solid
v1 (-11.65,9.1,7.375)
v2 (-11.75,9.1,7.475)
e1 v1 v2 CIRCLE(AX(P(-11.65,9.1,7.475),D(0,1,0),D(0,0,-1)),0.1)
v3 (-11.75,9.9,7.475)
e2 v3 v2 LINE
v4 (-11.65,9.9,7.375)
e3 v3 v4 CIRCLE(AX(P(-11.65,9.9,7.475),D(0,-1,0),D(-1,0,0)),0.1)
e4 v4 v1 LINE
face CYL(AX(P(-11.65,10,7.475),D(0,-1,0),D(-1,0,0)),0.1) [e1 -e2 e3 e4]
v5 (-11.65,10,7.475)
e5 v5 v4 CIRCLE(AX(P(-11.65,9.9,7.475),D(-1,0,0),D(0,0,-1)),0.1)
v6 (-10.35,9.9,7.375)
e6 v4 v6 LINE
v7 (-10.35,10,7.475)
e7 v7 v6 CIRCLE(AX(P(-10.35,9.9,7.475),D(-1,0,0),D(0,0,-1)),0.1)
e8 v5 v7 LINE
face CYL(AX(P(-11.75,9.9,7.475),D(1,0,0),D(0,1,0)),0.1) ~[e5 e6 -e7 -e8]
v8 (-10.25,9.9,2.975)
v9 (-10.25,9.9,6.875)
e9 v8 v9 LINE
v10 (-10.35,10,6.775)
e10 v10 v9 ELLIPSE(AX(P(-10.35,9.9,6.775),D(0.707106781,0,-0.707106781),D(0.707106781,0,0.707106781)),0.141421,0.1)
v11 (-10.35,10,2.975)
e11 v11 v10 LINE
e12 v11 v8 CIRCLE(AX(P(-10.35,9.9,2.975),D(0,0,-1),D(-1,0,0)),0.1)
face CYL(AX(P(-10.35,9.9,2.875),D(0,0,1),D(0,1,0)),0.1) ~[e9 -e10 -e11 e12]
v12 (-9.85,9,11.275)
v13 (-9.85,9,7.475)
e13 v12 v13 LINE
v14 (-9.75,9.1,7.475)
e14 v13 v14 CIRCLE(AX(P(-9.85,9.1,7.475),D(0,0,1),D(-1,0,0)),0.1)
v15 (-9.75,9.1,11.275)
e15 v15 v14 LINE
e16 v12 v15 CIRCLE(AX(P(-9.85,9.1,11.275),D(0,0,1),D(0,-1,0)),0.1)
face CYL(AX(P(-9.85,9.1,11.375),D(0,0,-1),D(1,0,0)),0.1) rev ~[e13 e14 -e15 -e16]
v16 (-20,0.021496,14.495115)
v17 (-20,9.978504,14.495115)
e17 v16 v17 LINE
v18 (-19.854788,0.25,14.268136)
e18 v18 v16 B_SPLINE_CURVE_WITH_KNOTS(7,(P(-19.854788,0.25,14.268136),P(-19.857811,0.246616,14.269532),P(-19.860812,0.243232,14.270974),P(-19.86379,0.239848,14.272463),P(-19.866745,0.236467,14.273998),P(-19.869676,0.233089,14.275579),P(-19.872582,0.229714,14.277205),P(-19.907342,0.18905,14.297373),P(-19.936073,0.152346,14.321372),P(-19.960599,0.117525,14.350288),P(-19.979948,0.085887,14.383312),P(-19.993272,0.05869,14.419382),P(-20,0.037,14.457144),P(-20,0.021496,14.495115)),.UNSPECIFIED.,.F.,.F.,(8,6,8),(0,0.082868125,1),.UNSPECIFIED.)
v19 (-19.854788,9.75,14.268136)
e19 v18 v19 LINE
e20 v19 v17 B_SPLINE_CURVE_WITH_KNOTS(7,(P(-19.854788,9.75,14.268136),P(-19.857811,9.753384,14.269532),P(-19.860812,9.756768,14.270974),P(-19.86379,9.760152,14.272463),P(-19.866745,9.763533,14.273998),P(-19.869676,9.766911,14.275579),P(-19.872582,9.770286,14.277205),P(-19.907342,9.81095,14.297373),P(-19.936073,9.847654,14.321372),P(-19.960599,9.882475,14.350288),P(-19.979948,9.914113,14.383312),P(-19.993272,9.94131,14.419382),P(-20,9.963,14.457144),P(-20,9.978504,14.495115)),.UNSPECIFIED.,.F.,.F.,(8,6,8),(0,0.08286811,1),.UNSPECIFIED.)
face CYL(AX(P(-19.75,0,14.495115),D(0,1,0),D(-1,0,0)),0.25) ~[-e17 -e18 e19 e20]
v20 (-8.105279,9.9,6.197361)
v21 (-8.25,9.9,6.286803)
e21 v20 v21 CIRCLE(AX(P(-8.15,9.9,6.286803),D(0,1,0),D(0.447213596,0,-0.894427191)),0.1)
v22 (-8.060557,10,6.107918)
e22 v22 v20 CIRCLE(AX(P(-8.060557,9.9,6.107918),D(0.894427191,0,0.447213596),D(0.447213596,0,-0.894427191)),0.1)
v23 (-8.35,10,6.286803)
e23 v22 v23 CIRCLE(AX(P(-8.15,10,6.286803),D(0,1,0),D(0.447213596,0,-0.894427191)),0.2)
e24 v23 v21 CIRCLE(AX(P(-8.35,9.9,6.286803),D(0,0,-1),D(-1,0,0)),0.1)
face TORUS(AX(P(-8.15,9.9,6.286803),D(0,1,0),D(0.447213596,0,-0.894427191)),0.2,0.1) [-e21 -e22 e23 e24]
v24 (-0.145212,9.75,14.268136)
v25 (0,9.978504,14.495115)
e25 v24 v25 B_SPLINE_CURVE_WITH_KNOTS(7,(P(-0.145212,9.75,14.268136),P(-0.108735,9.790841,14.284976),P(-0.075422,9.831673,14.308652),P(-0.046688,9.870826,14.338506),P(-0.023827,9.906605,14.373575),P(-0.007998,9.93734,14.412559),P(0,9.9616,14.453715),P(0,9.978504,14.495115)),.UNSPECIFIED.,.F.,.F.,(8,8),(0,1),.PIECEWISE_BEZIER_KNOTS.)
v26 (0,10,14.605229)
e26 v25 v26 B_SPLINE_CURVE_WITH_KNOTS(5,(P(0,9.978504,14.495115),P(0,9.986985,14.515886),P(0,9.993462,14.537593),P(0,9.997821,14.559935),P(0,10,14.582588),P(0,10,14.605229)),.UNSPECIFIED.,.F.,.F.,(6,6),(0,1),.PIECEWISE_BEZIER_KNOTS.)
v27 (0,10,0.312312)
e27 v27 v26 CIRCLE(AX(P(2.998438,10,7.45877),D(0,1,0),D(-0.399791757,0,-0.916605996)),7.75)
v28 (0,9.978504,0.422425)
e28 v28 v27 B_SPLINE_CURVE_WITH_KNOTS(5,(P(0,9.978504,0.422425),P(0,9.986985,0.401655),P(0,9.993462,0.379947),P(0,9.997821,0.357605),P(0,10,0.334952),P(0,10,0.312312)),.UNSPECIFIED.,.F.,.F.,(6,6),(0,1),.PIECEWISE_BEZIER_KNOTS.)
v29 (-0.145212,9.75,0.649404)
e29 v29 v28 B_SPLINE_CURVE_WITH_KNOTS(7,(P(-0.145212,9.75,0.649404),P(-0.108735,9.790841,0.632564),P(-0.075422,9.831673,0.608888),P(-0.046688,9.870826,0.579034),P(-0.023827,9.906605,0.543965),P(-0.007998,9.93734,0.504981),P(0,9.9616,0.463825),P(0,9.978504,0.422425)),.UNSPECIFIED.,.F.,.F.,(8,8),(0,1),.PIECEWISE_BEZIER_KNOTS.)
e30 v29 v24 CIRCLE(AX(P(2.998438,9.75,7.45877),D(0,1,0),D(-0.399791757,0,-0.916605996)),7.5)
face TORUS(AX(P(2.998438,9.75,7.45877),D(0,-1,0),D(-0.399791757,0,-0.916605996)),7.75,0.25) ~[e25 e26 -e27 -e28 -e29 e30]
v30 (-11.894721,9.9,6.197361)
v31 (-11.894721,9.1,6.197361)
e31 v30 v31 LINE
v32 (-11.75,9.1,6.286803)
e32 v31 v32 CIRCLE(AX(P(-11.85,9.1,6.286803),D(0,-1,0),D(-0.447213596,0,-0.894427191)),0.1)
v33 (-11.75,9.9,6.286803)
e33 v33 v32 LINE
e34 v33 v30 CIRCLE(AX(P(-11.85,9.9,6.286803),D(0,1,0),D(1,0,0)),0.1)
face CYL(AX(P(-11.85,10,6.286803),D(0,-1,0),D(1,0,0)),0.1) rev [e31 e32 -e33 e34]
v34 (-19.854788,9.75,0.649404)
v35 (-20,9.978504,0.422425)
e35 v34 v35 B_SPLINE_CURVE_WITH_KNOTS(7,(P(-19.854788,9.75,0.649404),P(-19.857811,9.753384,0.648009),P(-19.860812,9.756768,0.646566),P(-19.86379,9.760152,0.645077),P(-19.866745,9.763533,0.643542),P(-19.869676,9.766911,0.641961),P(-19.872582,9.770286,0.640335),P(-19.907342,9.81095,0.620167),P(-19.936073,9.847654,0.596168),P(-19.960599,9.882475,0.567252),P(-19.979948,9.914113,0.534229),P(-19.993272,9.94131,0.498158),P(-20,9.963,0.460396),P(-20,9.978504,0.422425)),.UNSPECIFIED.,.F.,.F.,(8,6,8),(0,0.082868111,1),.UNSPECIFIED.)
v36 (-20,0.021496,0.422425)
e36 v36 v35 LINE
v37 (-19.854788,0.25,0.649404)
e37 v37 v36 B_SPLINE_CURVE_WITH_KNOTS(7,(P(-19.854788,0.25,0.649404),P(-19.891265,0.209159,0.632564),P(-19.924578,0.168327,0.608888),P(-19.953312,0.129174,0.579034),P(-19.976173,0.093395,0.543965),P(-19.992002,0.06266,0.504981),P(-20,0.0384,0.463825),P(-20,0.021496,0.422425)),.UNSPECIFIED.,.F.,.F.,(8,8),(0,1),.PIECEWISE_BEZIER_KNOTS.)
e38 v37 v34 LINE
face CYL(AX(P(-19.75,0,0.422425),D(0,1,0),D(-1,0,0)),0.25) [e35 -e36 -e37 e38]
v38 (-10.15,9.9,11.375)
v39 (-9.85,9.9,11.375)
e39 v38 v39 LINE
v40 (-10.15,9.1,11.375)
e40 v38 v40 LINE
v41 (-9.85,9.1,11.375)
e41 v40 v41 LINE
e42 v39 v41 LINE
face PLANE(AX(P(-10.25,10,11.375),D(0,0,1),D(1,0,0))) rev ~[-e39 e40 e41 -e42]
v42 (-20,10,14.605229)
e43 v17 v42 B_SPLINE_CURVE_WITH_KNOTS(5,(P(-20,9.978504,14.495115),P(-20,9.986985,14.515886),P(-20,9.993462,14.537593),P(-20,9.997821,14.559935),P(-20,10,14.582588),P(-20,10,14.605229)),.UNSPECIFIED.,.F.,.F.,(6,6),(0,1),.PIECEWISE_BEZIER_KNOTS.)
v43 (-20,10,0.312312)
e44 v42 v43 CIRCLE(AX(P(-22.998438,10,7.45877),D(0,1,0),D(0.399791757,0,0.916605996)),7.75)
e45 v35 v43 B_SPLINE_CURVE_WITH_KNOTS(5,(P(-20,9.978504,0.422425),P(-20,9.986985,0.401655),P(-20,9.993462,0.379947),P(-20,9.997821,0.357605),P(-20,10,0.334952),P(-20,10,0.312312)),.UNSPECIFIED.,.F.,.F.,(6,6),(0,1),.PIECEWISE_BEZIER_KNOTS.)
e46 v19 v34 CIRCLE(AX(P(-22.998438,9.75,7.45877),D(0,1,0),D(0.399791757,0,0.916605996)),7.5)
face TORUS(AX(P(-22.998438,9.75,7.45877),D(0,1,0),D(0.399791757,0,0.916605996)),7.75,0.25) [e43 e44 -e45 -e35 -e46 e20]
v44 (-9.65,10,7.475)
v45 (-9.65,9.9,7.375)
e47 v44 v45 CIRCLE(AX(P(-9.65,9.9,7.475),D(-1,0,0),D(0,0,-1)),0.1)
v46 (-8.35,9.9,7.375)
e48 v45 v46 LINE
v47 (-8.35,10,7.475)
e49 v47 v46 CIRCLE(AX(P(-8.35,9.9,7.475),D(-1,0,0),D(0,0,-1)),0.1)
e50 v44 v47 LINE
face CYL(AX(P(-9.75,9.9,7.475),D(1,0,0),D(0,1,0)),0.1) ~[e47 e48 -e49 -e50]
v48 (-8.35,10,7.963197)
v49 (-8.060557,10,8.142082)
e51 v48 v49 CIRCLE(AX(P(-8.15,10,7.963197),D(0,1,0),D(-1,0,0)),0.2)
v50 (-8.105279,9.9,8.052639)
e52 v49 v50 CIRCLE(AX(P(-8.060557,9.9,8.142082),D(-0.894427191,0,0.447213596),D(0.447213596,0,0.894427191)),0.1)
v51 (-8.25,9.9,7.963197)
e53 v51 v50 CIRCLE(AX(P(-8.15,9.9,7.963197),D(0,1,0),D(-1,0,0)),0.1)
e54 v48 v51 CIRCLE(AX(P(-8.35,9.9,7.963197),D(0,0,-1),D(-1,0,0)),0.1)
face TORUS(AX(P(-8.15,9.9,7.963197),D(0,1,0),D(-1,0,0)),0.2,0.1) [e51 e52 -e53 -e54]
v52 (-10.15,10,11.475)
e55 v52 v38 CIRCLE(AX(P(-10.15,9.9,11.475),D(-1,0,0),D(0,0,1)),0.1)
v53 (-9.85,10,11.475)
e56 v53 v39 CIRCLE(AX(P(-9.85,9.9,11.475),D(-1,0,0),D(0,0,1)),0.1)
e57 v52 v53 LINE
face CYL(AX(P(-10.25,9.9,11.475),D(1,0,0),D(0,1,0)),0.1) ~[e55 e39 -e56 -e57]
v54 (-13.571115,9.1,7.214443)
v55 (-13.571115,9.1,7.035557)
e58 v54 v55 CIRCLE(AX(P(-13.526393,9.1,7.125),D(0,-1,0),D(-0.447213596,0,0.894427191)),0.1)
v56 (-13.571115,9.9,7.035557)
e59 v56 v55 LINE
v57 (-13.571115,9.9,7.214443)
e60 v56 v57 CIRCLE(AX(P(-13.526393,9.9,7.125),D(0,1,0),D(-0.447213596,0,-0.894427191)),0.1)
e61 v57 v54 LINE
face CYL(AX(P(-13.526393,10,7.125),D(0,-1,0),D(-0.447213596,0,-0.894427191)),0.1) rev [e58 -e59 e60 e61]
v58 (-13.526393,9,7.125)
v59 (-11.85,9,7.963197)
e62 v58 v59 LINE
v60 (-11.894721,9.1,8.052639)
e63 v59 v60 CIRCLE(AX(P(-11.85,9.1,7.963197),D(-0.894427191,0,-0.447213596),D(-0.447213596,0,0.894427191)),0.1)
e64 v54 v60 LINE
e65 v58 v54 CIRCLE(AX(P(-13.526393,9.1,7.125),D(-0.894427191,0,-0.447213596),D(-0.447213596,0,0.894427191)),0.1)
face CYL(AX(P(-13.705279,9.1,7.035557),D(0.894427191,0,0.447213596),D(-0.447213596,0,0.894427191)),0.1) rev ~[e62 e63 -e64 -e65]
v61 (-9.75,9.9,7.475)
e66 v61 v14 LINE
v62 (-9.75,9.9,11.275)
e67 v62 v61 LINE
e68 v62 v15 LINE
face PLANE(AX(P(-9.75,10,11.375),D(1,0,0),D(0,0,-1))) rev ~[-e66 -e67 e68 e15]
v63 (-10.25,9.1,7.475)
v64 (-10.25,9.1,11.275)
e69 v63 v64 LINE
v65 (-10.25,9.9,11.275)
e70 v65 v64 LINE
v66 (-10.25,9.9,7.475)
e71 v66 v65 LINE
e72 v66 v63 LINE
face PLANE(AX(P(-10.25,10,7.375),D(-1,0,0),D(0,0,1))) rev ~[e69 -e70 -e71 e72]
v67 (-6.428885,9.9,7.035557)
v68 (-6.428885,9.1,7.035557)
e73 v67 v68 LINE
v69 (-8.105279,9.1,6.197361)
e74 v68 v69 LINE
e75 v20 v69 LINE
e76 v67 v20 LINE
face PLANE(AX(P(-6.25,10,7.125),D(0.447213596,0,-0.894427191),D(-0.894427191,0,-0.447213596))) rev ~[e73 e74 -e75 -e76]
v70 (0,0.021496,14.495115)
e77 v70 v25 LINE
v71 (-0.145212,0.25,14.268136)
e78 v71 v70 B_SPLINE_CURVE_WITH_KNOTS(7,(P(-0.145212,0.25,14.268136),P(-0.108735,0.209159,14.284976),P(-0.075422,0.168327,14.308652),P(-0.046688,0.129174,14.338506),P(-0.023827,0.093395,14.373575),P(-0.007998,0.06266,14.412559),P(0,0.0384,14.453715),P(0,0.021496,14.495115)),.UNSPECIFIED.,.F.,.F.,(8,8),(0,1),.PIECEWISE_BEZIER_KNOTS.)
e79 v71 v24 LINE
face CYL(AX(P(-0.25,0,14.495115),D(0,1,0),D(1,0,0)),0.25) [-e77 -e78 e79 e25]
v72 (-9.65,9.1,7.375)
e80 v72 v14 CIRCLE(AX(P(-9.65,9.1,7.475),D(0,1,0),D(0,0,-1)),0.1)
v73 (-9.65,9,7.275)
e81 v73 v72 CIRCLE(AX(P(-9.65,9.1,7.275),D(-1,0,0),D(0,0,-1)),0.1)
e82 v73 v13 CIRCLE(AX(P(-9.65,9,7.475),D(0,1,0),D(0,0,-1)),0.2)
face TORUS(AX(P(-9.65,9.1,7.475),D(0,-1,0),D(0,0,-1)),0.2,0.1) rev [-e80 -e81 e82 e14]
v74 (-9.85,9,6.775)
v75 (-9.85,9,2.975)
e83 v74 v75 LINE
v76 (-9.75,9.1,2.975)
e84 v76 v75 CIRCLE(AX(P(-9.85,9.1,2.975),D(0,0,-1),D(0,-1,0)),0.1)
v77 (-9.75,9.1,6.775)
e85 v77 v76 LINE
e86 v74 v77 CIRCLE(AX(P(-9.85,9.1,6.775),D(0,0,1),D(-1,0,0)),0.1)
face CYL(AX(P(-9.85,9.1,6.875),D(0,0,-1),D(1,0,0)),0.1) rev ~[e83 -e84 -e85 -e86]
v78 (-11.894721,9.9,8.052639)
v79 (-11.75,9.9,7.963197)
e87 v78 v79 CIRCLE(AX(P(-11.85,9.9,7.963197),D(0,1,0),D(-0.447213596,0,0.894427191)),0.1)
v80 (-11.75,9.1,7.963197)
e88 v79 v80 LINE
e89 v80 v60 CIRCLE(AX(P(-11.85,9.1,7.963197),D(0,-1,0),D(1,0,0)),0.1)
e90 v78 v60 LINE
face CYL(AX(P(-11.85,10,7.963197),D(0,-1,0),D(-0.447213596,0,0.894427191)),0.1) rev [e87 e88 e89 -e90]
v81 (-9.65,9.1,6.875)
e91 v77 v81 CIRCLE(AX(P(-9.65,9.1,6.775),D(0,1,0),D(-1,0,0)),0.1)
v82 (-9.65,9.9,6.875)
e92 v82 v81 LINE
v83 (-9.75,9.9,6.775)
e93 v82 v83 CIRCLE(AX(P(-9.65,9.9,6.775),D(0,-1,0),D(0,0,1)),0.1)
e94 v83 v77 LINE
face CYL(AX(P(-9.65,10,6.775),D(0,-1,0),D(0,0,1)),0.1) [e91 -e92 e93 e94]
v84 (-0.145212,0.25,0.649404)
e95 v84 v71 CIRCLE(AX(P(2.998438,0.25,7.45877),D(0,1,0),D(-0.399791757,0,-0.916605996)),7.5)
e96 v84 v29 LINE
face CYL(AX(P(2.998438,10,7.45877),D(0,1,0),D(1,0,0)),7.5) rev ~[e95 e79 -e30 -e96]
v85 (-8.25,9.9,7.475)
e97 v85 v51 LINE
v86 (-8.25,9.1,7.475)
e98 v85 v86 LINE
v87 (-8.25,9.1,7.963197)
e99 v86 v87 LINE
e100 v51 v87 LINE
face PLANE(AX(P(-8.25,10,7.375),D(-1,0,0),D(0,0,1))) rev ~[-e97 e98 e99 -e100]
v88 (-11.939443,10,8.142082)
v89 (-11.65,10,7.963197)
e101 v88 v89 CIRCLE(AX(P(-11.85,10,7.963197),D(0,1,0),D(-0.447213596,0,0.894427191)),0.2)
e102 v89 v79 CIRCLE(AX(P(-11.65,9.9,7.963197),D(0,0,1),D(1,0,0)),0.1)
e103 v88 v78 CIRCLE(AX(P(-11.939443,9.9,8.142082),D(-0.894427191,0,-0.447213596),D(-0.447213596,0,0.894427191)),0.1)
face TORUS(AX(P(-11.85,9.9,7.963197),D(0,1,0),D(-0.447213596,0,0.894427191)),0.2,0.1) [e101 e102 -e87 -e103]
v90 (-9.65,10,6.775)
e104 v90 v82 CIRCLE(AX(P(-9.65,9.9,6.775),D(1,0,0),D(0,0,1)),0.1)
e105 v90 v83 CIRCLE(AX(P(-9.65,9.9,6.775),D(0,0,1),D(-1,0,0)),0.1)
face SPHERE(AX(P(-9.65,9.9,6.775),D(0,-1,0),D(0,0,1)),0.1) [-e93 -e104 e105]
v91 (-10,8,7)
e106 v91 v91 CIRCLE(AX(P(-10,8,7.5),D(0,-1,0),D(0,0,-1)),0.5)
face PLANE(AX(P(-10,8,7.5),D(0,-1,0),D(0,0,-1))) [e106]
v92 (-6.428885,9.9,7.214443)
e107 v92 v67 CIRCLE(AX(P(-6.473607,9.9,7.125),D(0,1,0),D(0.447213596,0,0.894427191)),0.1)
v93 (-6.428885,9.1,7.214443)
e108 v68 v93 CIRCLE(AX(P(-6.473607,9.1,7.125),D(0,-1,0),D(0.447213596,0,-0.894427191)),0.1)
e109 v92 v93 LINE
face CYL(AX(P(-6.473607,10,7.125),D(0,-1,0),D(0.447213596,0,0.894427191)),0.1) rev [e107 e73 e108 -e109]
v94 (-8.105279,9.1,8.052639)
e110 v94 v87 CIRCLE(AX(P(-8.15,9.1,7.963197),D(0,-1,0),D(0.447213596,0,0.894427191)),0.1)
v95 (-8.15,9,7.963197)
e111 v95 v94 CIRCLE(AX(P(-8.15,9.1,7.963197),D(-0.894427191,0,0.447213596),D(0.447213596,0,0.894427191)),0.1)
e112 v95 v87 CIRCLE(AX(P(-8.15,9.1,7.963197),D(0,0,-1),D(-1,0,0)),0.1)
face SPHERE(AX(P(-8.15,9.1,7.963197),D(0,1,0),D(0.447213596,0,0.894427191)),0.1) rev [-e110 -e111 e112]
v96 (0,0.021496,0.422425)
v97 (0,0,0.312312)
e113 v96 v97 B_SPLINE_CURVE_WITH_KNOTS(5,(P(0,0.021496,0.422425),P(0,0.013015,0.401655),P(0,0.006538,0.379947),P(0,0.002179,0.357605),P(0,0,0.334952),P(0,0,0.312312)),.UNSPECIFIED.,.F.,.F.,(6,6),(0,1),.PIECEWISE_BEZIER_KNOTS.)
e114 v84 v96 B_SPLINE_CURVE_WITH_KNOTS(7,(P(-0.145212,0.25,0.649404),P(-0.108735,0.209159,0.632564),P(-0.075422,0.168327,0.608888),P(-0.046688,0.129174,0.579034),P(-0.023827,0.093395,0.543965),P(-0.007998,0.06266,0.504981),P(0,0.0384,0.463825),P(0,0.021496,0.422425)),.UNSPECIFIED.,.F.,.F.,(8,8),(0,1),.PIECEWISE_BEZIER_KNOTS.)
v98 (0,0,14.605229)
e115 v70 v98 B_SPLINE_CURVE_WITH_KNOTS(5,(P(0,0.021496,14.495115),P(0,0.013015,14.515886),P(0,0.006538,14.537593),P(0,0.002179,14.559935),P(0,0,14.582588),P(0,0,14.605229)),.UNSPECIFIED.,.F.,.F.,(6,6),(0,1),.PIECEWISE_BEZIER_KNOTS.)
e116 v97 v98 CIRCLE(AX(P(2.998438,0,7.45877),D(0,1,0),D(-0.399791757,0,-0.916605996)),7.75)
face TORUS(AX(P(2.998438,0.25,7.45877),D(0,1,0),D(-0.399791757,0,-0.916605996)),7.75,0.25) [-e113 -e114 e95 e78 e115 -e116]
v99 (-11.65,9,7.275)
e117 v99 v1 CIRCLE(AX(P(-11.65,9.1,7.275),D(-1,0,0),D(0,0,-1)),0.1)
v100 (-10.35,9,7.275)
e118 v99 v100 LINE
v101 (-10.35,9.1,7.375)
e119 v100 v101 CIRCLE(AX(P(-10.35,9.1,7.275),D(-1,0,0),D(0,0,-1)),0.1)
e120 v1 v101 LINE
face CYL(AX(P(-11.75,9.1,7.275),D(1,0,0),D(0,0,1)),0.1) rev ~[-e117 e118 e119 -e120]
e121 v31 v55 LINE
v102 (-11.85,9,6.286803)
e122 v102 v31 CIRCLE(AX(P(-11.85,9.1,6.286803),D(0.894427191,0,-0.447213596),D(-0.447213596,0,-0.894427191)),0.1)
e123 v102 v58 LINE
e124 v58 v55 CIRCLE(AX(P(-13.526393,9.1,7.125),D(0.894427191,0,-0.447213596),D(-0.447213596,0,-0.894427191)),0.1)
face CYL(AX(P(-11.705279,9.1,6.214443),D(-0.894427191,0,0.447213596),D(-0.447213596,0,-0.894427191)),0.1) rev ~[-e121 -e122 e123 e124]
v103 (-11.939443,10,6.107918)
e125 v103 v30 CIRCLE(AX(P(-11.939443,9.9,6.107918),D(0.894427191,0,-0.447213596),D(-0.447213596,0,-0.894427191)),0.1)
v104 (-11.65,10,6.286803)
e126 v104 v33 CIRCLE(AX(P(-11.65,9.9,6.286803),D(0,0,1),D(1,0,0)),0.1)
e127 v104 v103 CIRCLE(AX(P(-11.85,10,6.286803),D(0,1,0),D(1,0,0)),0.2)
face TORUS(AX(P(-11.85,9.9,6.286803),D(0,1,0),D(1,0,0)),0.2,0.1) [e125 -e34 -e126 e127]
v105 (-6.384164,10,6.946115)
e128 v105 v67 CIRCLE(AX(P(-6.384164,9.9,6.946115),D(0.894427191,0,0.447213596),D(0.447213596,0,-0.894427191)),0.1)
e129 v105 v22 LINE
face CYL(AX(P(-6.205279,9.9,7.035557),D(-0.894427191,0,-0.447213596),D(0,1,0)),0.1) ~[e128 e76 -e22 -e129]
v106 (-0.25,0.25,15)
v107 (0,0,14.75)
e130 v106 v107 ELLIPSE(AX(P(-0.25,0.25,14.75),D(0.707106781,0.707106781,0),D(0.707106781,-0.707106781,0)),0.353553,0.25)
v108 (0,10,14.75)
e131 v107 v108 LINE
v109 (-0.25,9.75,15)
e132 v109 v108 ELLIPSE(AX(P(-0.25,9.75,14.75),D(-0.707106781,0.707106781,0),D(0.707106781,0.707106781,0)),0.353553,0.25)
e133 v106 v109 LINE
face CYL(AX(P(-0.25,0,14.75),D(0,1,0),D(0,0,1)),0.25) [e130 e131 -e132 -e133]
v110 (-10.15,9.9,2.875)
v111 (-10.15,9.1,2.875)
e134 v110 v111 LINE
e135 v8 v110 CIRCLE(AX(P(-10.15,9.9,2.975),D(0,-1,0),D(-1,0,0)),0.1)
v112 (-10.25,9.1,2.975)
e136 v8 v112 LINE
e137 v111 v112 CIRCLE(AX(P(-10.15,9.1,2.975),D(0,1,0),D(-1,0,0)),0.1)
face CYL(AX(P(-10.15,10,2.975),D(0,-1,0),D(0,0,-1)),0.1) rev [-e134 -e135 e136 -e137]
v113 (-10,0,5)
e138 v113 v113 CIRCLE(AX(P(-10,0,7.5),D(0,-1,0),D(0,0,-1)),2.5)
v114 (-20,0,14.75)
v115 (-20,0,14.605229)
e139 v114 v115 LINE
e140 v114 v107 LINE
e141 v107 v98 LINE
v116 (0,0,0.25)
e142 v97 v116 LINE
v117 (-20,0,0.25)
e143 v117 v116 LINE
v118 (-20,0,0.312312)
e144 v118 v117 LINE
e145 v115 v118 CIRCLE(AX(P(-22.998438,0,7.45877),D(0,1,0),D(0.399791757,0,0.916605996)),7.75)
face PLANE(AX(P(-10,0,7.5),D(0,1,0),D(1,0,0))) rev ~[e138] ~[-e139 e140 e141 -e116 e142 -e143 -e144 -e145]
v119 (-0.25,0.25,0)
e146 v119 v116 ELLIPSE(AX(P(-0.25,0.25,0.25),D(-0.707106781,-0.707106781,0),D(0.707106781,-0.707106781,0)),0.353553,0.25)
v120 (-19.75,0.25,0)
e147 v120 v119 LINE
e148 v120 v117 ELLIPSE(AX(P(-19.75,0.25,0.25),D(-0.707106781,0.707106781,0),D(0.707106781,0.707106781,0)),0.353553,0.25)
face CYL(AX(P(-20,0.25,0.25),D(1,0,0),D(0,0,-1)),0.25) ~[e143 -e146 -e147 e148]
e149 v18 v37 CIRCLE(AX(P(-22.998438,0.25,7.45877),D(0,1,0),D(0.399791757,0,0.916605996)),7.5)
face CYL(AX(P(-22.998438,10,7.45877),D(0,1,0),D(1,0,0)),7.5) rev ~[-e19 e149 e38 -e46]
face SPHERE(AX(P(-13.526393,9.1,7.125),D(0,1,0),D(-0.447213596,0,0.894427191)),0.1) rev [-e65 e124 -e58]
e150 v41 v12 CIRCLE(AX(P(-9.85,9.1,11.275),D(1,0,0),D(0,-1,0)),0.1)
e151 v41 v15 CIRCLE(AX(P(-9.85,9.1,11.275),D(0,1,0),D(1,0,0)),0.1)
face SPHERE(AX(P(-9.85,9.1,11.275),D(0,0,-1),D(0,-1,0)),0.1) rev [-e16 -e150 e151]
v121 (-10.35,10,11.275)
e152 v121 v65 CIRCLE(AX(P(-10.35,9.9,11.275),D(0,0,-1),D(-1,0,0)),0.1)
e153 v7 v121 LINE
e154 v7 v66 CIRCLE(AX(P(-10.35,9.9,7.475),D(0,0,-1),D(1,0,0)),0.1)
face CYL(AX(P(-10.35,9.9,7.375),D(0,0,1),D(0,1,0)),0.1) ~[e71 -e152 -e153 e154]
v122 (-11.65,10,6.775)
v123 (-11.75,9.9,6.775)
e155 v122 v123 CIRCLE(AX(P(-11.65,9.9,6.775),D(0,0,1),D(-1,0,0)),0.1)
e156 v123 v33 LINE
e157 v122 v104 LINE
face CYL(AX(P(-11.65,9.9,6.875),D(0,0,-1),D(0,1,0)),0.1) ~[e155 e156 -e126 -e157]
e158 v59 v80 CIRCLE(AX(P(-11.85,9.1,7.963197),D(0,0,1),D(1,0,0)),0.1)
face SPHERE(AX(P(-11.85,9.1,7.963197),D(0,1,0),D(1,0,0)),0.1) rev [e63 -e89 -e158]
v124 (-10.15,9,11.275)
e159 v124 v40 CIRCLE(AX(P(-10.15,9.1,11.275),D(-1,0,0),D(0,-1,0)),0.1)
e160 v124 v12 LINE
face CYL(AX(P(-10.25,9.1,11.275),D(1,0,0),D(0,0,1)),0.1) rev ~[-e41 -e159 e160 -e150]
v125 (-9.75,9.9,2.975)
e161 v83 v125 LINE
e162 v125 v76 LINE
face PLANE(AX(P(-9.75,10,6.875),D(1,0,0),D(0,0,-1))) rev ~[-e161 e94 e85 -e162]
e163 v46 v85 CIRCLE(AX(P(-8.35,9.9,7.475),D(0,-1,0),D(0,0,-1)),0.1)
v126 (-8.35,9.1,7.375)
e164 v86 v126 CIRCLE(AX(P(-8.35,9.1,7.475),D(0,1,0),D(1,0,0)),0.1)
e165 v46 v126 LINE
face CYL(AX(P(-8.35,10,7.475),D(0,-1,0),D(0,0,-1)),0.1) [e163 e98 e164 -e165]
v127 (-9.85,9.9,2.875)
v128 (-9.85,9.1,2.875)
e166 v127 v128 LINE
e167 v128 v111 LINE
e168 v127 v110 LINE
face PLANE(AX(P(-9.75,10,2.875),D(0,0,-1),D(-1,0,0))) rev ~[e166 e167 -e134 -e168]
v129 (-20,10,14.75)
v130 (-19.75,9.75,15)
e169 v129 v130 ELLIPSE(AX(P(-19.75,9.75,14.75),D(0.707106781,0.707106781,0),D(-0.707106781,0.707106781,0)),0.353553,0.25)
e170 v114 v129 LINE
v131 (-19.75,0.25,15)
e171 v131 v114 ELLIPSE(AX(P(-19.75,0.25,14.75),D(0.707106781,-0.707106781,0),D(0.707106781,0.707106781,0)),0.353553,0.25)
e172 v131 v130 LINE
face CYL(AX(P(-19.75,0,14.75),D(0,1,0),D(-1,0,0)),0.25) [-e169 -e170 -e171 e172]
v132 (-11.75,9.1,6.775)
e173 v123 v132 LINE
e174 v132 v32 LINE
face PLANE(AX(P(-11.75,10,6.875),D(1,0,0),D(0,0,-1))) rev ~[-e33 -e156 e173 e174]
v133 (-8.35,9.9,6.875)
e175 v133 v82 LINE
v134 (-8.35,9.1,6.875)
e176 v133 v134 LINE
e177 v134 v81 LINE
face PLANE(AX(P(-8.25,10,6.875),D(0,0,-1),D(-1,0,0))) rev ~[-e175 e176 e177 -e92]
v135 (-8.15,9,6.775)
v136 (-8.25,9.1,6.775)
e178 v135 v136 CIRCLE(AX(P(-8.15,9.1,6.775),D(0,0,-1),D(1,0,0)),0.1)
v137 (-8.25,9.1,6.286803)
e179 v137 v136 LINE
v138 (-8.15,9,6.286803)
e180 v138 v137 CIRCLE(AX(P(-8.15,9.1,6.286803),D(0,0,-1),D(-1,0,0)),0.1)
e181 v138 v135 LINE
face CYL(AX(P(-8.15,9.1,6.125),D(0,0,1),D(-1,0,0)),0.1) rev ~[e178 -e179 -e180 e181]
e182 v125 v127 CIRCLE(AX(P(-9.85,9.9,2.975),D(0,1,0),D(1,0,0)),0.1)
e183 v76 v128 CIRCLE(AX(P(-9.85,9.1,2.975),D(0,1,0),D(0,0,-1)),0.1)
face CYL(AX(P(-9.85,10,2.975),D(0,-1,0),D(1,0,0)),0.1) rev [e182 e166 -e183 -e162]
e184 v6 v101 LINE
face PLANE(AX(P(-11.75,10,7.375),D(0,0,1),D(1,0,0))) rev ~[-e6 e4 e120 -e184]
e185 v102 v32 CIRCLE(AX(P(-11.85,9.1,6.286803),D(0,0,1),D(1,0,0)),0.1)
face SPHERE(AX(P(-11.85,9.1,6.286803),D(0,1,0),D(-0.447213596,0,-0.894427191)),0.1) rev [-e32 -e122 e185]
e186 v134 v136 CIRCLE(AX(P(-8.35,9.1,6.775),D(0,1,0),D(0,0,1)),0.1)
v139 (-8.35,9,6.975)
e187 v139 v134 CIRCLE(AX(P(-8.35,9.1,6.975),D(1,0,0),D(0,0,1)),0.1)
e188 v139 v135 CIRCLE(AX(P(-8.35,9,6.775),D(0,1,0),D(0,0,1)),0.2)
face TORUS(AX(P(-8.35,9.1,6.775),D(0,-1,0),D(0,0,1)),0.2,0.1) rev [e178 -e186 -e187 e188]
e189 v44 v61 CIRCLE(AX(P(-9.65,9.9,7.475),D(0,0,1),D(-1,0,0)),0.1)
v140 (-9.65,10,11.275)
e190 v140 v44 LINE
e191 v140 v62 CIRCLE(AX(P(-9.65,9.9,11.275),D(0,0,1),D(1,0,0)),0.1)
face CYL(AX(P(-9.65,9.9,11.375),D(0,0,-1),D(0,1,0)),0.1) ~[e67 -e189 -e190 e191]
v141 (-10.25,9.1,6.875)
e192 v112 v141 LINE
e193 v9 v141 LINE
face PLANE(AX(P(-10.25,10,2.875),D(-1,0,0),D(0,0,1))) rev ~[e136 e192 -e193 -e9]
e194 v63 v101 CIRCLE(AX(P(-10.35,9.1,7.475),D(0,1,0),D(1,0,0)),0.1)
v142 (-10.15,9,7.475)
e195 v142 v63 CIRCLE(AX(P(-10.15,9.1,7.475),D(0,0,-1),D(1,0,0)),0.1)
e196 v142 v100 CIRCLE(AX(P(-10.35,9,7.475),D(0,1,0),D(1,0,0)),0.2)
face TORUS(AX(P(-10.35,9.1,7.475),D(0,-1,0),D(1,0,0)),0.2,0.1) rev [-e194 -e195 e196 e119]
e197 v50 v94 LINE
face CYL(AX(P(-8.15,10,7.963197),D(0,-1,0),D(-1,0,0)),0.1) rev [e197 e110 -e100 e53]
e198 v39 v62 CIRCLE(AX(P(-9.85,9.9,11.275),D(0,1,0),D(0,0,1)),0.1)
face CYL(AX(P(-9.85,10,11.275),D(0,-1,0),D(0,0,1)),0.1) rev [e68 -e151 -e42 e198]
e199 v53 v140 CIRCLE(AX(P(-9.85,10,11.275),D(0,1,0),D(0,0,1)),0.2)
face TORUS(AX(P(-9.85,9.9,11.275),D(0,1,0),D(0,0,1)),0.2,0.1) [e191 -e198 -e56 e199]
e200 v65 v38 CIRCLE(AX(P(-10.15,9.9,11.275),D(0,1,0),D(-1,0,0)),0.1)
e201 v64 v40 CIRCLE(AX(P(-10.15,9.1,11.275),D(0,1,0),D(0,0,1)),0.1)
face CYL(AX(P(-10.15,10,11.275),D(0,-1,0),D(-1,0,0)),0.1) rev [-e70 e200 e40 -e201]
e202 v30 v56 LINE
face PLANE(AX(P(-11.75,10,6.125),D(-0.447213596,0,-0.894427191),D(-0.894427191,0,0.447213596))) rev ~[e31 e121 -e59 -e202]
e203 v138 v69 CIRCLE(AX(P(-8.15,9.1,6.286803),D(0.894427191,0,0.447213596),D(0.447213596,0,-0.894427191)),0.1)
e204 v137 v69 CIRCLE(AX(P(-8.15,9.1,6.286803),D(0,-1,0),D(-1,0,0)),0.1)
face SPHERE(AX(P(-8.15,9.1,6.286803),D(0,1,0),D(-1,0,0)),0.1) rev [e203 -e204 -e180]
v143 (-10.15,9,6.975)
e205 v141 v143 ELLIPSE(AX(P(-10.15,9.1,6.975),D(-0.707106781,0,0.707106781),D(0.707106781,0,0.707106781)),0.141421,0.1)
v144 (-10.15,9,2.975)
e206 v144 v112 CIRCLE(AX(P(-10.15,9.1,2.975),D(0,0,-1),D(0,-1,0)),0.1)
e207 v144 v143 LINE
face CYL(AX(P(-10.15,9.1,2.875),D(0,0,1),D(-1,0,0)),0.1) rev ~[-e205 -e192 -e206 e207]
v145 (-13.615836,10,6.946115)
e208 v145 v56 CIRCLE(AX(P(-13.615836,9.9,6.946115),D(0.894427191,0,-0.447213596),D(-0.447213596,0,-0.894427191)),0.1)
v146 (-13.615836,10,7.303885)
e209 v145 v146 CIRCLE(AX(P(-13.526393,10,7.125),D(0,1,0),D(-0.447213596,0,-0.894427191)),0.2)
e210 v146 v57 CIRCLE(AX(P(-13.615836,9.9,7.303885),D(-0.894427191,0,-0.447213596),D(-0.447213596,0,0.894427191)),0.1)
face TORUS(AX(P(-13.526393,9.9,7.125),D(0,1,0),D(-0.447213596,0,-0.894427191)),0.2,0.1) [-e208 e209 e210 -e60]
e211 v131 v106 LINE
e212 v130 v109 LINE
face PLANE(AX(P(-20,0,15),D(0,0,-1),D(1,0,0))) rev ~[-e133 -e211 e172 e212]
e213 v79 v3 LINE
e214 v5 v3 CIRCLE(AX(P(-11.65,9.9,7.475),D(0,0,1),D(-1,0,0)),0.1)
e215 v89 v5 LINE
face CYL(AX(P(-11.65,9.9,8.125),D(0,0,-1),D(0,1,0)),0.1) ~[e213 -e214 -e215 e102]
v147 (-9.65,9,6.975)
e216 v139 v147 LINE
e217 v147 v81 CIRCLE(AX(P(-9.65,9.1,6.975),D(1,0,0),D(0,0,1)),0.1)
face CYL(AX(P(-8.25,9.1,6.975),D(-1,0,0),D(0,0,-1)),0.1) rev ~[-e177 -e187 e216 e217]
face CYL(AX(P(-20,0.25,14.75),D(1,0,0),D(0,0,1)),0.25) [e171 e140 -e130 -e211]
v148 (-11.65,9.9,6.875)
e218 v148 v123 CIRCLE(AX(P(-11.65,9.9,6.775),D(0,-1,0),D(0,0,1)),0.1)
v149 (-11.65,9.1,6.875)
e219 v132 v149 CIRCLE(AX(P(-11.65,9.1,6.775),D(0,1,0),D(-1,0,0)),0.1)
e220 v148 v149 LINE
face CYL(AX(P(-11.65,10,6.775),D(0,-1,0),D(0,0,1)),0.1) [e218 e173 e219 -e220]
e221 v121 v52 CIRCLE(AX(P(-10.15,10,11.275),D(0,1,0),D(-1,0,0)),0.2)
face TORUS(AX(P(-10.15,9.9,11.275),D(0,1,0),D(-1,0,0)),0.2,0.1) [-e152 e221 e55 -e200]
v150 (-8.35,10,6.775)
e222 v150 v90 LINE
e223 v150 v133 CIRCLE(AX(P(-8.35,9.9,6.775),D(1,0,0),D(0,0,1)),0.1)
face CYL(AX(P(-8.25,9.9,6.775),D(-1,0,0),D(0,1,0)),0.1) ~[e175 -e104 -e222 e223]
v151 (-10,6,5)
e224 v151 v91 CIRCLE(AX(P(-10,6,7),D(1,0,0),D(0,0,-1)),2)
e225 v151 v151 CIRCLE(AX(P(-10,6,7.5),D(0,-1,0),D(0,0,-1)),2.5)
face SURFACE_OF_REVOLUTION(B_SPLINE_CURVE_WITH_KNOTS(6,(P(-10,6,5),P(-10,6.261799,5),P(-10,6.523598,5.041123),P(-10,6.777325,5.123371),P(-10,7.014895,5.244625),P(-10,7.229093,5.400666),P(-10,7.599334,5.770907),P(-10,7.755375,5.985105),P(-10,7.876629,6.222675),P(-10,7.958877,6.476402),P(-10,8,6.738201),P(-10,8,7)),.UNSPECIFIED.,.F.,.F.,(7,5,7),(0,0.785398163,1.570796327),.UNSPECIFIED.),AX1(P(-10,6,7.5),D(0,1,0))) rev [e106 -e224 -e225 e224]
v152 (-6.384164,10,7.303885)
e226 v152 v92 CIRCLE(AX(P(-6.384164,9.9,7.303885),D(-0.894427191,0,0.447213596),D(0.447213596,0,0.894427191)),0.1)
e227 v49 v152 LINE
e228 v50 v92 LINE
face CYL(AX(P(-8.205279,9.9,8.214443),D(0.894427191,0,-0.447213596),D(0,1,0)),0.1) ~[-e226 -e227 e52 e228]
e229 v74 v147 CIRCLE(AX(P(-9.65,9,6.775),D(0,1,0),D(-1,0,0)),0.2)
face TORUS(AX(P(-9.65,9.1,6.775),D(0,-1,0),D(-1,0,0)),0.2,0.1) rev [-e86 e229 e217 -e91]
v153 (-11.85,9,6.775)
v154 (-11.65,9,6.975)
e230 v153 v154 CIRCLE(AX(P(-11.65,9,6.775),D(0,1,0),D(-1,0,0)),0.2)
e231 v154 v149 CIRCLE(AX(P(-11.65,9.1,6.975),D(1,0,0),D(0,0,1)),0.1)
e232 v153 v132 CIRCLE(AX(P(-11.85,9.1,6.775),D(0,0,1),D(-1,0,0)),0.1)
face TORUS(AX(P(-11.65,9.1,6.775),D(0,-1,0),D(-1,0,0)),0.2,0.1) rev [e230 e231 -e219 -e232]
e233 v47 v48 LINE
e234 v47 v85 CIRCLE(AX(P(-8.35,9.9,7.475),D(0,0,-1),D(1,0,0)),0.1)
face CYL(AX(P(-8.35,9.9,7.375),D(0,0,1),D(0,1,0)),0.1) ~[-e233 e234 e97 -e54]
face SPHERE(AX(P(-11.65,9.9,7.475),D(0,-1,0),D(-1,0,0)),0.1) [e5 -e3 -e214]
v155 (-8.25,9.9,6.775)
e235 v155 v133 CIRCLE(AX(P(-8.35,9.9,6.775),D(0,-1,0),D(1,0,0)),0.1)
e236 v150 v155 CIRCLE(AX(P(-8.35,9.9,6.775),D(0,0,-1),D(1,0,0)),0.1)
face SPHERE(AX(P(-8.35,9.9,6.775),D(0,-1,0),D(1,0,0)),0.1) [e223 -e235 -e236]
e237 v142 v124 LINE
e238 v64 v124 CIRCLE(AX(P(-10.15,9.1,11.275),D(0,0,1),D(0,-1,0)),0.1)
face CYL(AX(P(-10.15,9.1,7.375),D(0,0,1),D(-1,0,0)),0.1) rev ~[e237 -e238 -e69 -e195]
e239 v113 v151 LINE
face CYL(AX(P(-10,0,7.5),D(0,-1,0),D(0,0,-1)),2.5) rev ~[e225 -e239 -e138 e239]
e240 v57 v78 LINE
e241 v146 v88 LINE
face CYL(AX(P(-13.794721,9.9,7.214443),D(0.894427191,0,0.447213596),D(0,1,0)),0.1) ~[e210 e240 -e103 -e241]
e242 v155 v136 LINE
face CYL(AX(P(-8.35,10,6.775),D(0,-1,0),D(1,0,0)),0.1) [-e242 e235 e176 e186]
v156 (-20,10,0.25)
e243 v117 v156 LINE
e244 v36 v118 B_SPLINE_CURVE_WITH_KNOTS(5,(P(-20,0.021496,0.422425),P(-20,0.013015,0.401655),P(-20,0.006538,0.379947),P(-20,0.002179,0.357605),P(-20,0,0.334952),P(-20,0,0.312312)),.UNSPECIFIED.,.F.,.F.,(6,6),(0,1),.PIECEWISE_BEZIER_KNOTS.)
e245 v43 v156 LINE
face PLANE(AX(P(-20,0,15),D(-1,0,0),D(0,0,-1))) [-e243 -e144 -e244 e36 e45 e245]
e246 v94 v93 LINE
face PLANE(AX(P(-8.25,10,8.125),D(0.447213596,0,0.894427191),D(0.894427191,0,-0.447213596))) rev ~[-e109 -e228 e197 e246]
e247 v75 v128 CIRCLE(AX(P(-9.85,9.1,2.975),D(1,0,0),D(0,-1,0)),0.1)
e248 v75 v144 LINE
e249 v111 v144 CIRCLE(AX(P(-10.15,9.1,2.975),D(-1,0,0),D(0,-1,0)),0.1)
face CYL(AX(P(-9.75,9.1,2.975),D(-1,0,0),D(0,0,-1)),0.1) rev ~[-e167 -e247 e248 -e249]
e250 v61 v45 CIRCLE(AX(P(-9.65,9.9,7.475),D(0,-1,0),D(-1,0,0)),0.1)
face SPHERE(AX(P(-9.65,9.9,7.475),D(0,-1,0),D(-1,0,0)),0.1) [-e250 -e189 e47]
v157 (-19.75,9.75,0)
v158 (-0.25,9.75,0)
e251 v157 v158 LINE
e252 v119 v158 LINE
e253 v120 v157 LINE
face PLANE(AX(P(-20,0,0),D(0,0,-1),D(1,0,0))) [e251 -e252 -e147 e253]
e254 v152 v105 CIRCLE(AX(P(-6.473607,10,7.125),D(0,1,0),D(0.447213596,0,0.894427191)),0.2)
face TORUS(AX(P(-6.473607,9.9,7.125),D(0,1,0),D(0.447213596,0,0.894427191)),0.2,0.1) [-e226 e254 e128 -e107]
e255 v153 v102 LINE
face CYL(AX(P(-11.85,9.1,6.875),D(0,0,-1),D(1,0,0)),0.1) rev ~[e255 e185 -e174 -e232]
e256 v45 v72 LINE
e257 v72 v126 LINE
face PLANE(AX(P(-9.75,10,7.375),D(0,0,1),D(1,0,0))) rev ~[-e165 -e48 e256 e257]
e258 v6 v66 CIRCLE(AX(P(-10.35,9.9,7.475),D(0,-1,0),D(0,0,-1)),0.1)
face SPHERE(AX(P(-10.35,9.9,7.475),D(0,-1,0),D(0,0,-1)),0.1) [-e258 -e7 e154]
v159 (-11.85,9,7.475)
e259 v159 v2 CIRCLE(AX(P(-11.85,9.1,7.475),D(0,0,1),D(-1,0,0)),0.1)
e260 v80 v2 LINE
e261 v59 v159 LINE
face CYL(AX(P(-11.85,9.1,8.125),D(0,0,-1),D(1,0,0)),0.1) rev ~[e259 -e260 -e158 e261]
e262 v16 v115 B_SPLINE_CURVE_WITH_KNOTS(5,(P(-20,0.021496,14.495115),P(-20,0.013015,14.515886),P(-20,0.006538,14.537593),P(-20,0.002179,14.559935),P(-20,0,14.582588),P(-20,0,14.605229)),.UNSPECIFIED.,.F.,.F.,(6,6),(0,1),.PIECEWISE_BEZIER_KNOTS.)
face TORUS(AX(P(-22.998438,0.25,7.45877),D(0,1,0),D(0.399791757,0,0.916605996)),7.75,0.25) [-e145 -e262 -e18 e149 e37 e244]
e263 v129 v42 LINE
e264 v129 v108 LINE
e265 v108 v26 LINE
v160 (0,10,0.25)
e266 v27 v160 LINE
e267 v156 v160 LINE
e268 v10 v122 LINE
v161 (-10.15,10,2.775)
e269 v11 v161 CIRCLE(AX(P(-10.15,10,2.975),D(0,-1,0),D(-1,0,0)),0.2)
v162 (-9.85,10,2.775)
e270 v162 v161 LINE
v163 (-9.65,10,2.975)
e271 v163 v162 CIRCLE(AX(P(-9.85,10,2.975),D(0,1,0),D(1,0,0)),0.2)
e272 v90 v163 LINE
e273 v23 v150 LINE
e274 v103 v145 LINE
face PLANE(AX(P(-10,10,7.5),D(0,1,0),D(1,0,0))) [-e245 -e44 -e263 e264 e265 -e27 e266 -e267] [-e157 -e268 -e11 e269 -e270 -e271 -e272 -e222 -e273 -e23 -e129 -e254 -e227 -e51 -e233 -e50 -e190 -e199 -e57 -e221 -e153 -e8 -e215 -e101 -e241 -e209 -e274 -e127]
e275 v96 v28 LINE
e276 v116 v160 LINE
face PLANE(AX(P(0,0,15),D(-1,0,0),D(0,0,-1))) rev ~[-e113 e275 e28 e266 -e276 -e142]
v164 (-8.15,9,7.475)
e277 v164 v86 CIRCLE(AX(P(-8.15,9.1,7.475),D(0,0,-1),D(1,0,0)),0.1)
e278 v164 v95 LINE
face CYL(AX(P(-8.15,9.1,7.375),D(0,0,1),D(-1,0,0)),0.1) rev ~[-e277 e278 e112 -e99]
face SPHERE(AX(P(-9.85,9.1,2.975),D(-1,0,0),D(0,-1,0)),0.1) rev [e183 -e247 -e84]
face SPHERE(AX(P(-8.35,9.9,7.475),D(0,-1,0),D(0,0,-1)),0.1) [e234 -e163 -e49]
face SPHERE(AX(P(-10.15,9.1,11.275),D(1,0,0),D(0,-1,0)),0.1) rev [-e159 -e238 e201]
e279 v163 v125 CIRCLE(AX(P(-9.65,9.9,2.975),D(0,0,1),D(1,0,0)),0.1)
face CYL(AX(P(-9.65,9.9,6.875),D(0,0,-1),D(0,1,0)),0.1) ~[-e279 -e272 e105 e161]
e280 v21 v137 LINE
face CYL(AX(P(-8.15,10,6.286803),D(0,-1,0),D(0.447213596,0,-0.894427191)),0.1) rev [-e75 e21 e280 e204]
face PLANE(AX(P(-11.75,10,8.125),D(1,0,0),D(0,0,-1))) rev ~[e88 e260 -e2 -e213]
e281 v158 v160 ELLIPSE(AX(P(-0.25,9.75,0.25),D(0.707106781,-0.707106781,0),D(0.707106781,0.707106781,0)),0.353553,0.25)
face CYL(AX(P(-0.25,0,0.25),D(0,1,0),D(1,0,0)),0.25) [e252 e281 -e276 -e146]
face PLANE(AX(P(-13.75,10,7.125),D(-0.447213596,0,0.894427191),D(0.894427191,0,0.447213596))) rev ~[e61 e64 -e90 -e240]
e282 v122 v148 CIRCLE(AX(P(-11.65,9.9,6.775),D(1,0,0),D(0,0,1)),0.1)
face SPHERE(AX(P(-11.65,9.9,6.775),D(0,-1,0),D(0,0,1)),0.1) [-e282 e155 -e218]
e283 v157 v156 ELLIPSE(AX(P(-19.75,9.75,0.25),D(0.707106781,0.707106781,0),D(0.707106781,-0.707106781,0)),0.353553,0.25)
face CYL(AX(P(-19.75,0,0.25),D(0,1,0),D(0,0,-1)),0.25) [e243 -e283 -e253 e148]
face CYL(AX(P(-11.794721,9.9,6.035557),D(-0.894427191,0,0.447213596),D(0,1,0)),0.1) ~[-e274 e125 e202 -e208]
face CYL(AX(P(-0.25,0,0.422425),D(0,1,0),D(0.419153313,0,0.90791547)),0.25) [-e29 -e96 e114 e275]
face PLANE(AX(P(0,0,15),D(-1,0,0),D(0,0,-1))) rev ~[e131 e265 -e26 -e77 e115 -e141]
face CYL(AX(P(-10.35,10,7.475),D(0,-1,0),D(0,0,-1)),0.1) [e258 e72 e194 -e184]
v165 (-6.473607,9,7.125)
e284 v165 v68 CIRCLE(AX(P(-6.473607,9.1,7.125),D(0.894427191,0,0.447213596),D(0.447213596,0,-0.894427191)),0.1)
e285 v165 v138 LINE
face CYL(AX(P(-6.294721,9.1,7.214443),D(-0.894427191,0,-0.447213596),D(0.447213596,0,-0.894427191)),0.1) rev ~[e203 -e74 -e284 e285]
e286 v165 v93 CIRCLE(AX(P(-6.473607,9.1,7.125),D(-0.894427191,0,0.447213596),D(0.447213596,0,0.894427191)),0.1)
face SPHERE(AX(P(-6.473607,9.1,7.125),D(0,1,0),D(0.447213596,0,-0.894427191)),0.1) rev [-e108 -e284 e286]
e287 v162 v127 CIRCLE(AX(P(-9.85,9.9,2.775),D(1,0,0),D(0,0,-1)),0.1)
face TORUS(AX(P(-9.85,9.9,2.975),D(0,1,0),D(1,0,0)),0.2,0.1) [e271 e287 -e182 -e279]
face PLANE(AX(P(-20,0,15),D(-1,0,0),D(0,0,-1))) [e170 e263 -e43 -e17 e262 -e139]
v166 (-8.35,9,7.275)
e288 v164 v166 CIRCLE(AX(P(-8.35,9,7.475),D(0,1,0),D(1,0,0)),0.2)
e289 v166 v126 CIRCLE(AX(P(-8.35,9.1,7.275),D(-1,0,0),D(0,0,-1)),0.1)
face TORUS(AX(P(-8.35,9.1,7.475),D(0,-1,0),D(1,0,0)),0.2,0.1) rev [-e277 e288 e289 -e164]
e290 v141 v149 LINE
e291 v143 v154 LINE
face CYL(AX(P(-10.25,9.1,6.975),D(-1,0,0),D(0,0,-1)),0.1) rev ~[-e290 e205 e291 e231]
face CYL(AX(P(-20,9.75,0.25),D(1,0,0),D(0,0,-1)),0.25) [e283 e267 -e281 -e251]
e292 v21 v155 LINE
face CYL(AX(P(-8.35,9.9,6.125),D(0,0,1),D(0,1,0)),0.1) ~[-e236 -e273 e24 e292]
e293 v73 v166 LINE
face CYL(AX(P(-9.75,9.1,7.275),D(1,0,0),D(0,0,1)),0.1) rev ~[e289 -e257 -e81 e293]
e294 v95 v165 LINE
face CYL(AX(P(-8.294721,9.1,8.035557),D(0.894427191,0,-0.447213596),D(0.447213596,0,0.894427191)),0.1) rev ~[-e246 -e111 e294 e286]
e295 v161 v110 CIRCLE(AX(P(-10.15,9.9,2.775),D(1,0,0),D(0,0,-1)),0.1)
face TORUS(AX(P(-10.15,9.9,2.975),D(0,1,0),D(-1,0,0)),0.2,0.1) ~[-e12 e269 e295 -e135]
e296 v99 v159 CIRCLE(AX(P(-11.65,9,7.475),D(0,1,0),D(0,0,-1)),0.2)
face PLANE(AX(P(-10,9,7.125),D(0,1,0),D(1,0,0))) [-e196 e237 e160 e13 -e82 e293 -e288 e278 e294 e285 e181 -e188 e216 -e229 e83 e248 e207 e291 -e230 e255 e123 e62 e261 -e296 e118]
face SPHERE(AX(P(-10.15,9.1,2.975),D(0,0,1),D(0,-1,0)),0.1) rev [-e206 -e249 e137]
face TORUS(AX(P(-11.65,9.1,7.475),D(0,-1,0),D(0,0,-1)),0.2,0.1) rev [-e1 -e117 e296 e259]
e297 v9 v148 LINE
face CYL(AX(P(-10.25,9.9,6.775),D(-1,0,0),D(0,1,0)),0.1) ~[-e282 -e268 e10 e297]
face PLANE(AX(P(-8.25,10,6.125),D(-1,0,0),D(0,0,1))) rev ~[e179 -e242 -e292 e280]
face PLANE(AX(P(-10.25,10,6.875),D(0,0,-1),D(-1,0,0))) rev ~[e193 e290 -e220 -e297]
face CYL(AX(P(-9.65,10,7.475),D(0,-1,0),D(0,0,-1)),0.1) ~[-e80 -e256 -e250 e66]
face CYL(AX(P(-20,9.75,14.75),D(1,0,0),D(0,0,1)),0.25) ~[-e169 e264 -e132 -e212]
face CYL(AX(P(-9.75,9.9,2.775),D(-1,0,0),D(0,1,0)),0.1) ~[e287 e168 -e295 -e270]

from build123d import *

# Parameters (mm, degrees)
SKETCH1_W           = 20
SKETCH1_H           = 15
BOSS_EXTRUDE1_DEPTH = 10
SKETCH2_R           = 7.5
CUT_EXTRUDE1_DEPTH  = 10
FILLET1_R           = 0.25
SKETCH3_R           = 2.5
CUT_EXTRUDE2_DEPTH  = 8
FILLET2_R           = 2
CUT_EXTRUDE3_DEPTH  = 1
FILLET3_R           = 0.1


with BuildPart() as part:
    # Sketch1 → Boss-Extrude1 (new body)
    with BuildSketch(Plane(origin=(0, 0, 0), x_dir=(1, 0, 0), z_dir=(0, 1, 0))):
        with Locations((-10, -7.5)):
            Rectangle(SKETCH1_W, SKETCH1_H)
    extrude(amount=BOSS_EXTRUDE1_DEPTH)

    # Sketch2 → Cut-Extrude1 (cut)
    with BuildSketch(Plane(origin=(0, 10, 0), x_dir=(1, 0, 0), z_dir=(0, 1, 0))):
        with Locations((-22.998438174, -7.458770099)):
            Circle(SKETCH2_R)
        with Locations((2.998438174, -7.458770099)):
            Circle(SKETCH2_R)
    extrude(amount=-CUT_EXTRUDE1_DEPTH, mode=Mode.SUBTRACT)

    # Fillet1
    fillet1_edges = [part.edges().sort_by_distance(p)[0] for p in [
        (-10, 10, 0),
        (-15.498438174, 10, 7.458770099),
        (-15.498438174, 0, 7.458770099),
        (-20, 5, 0.584225131),
        (-20, 5, 14.333315067),
        (-4.501561826, 10, 7.458770099),
        (-4.501561826, 0, 7.458770099),
        (0, 5, 14.333315067),
        (0, 5, 0.584225131),
        (-10, 0, 0),
        (-10, 0, 15),
        (-20, 5, 0),
        (0, 5, 0),
        (0, 5, 15),
        (-20, 5, 15),
        (-10, 10, 15),
    ]]
    fillet(fillet1_edges, radius=FILLET1_R)

    # Sketch3 → Cut-Extrude2 (cut)
    with BuildSketch(Plane.XZ):
        with Locations(Location((-10, 7.5, 0), (0, 0, 270))):
            Circle(SKETCH3_R)
    extrude(amount=-CUT_EXTRUDE2_DEPTH, mode=Mode.SUBTRACT)

    # Fillet2
    fillet2_edges = [part.edges().sort_by_distance(p)[0] for p in [
        (-10, 8, 10),
    ]]
    fillet(fillet2_edges, radius=FILLET2_R)

    # Sketch4 → Cut-Extrude3 (cut)
    with BuildSketch(Plane(origin=(0, 10, 0), x_dir=(1, 0, 0), z_dir=(0, 1, 0))):
        Polygon((-9.75, -7.375), (-8.25, -7.375), (-8.25, -8.125), (-6.25, -7.125), (-8.25, -6.125), (-8.25, -6.875), (-9.75, -6.875), (-9.75, -2.875), (-10.25, -2.875), (-10.25, -6.875), (-11.75, -6.875), (-11.75, -6.125), (-13.75, -7.125), (-11.75, -8.125), (-11.75, -7.375), (-10.25, -7.375), (-10.25, -11.375), (-9.75, -11.375), align=None)
    extrude(amount=-CUT_EXTRUDE3_DEPTH, mode=Mode.SUBTRACT)

    # Fillet3
    fillet3_edges = [part.edges().sort_by_distance(p)[0] for p in [
        (-10.25, 9, 4.875),
        (-10, 9, 2.875),
        (-10.25, 9.5, 2.875),
        (-9.75, 9, 4.875),
        (-9.75, 9.5, 2.875),
        (-9, 9, 6.875),
        (-9.75, 9.5, 6.875),
        (-8.25, 9, 6.5),
        (-8.25, 9.5, 6.875),
        (-7.25, 9, 6.625),
        (-8.25, 9.5, 6.125),
        (-7.25, 9, 7.625),
        (-6.25, 9.5, 7.125),
        (-8.25, 9, 7.75),
        (-8.25, 9.5, 8.125),
        (-9, 9, 7.375),
        (-8.25, 9.5, 7.375),
        (-9.75, 9, 9.375),
        (-9.75, 9.5, 7.375),
        (-10, 9, 11.375),
        (-9.75, 9.5, 11.375),
        (-10.25, 9, 9.375),
        (-10.25, 9.5, 11.375),
        (-11, 9, 7.375),
        (-10.25, 9.5, 7.375),
        (-11.75, 9, 7.75),
        (-11.75, 9.5, 7.375),
        (-12.75, 9, 7.625),
        (-11.75, 9.5, 8.125),
        (-12.75, 9, 6.625),
        (-13.75, 9.5, 7.125),
        (-11.75, 9, 6.5),
        (-11.75, 9.5, 6.125),
        (-11, 9, 6.875),
        (-11.75, 9.5, 6.875),
        (-10.25, 10, 4.875),
        (-11, 10, 6.875),
        (-11.75, 10, 6.5),
        (-12.75, 10, 6.625),
        (-12.75, 10, 7.625),
        (-11.75, 10, 7.75),
        (-11, 10, 7.375),
        (-10.25, 10, 9.375),
        (-10, 10, 11.375),
        (-9.75, 10, 9.375),
        (-9, 10, 7.375),
        (-8.25, 10, 7.75),
        (-7.25, 10, 7.625),
        (-7.25, 10, 6.625),
        (-8.25, 10, 6.5),
        (-9, 10, 6.875),
        (-9.75, 10, 4.875),
        (-10, 10, 2.875),
    ]]
    fillet(fillet3_edges, radius=FILLET3_R)


solid = part.part
